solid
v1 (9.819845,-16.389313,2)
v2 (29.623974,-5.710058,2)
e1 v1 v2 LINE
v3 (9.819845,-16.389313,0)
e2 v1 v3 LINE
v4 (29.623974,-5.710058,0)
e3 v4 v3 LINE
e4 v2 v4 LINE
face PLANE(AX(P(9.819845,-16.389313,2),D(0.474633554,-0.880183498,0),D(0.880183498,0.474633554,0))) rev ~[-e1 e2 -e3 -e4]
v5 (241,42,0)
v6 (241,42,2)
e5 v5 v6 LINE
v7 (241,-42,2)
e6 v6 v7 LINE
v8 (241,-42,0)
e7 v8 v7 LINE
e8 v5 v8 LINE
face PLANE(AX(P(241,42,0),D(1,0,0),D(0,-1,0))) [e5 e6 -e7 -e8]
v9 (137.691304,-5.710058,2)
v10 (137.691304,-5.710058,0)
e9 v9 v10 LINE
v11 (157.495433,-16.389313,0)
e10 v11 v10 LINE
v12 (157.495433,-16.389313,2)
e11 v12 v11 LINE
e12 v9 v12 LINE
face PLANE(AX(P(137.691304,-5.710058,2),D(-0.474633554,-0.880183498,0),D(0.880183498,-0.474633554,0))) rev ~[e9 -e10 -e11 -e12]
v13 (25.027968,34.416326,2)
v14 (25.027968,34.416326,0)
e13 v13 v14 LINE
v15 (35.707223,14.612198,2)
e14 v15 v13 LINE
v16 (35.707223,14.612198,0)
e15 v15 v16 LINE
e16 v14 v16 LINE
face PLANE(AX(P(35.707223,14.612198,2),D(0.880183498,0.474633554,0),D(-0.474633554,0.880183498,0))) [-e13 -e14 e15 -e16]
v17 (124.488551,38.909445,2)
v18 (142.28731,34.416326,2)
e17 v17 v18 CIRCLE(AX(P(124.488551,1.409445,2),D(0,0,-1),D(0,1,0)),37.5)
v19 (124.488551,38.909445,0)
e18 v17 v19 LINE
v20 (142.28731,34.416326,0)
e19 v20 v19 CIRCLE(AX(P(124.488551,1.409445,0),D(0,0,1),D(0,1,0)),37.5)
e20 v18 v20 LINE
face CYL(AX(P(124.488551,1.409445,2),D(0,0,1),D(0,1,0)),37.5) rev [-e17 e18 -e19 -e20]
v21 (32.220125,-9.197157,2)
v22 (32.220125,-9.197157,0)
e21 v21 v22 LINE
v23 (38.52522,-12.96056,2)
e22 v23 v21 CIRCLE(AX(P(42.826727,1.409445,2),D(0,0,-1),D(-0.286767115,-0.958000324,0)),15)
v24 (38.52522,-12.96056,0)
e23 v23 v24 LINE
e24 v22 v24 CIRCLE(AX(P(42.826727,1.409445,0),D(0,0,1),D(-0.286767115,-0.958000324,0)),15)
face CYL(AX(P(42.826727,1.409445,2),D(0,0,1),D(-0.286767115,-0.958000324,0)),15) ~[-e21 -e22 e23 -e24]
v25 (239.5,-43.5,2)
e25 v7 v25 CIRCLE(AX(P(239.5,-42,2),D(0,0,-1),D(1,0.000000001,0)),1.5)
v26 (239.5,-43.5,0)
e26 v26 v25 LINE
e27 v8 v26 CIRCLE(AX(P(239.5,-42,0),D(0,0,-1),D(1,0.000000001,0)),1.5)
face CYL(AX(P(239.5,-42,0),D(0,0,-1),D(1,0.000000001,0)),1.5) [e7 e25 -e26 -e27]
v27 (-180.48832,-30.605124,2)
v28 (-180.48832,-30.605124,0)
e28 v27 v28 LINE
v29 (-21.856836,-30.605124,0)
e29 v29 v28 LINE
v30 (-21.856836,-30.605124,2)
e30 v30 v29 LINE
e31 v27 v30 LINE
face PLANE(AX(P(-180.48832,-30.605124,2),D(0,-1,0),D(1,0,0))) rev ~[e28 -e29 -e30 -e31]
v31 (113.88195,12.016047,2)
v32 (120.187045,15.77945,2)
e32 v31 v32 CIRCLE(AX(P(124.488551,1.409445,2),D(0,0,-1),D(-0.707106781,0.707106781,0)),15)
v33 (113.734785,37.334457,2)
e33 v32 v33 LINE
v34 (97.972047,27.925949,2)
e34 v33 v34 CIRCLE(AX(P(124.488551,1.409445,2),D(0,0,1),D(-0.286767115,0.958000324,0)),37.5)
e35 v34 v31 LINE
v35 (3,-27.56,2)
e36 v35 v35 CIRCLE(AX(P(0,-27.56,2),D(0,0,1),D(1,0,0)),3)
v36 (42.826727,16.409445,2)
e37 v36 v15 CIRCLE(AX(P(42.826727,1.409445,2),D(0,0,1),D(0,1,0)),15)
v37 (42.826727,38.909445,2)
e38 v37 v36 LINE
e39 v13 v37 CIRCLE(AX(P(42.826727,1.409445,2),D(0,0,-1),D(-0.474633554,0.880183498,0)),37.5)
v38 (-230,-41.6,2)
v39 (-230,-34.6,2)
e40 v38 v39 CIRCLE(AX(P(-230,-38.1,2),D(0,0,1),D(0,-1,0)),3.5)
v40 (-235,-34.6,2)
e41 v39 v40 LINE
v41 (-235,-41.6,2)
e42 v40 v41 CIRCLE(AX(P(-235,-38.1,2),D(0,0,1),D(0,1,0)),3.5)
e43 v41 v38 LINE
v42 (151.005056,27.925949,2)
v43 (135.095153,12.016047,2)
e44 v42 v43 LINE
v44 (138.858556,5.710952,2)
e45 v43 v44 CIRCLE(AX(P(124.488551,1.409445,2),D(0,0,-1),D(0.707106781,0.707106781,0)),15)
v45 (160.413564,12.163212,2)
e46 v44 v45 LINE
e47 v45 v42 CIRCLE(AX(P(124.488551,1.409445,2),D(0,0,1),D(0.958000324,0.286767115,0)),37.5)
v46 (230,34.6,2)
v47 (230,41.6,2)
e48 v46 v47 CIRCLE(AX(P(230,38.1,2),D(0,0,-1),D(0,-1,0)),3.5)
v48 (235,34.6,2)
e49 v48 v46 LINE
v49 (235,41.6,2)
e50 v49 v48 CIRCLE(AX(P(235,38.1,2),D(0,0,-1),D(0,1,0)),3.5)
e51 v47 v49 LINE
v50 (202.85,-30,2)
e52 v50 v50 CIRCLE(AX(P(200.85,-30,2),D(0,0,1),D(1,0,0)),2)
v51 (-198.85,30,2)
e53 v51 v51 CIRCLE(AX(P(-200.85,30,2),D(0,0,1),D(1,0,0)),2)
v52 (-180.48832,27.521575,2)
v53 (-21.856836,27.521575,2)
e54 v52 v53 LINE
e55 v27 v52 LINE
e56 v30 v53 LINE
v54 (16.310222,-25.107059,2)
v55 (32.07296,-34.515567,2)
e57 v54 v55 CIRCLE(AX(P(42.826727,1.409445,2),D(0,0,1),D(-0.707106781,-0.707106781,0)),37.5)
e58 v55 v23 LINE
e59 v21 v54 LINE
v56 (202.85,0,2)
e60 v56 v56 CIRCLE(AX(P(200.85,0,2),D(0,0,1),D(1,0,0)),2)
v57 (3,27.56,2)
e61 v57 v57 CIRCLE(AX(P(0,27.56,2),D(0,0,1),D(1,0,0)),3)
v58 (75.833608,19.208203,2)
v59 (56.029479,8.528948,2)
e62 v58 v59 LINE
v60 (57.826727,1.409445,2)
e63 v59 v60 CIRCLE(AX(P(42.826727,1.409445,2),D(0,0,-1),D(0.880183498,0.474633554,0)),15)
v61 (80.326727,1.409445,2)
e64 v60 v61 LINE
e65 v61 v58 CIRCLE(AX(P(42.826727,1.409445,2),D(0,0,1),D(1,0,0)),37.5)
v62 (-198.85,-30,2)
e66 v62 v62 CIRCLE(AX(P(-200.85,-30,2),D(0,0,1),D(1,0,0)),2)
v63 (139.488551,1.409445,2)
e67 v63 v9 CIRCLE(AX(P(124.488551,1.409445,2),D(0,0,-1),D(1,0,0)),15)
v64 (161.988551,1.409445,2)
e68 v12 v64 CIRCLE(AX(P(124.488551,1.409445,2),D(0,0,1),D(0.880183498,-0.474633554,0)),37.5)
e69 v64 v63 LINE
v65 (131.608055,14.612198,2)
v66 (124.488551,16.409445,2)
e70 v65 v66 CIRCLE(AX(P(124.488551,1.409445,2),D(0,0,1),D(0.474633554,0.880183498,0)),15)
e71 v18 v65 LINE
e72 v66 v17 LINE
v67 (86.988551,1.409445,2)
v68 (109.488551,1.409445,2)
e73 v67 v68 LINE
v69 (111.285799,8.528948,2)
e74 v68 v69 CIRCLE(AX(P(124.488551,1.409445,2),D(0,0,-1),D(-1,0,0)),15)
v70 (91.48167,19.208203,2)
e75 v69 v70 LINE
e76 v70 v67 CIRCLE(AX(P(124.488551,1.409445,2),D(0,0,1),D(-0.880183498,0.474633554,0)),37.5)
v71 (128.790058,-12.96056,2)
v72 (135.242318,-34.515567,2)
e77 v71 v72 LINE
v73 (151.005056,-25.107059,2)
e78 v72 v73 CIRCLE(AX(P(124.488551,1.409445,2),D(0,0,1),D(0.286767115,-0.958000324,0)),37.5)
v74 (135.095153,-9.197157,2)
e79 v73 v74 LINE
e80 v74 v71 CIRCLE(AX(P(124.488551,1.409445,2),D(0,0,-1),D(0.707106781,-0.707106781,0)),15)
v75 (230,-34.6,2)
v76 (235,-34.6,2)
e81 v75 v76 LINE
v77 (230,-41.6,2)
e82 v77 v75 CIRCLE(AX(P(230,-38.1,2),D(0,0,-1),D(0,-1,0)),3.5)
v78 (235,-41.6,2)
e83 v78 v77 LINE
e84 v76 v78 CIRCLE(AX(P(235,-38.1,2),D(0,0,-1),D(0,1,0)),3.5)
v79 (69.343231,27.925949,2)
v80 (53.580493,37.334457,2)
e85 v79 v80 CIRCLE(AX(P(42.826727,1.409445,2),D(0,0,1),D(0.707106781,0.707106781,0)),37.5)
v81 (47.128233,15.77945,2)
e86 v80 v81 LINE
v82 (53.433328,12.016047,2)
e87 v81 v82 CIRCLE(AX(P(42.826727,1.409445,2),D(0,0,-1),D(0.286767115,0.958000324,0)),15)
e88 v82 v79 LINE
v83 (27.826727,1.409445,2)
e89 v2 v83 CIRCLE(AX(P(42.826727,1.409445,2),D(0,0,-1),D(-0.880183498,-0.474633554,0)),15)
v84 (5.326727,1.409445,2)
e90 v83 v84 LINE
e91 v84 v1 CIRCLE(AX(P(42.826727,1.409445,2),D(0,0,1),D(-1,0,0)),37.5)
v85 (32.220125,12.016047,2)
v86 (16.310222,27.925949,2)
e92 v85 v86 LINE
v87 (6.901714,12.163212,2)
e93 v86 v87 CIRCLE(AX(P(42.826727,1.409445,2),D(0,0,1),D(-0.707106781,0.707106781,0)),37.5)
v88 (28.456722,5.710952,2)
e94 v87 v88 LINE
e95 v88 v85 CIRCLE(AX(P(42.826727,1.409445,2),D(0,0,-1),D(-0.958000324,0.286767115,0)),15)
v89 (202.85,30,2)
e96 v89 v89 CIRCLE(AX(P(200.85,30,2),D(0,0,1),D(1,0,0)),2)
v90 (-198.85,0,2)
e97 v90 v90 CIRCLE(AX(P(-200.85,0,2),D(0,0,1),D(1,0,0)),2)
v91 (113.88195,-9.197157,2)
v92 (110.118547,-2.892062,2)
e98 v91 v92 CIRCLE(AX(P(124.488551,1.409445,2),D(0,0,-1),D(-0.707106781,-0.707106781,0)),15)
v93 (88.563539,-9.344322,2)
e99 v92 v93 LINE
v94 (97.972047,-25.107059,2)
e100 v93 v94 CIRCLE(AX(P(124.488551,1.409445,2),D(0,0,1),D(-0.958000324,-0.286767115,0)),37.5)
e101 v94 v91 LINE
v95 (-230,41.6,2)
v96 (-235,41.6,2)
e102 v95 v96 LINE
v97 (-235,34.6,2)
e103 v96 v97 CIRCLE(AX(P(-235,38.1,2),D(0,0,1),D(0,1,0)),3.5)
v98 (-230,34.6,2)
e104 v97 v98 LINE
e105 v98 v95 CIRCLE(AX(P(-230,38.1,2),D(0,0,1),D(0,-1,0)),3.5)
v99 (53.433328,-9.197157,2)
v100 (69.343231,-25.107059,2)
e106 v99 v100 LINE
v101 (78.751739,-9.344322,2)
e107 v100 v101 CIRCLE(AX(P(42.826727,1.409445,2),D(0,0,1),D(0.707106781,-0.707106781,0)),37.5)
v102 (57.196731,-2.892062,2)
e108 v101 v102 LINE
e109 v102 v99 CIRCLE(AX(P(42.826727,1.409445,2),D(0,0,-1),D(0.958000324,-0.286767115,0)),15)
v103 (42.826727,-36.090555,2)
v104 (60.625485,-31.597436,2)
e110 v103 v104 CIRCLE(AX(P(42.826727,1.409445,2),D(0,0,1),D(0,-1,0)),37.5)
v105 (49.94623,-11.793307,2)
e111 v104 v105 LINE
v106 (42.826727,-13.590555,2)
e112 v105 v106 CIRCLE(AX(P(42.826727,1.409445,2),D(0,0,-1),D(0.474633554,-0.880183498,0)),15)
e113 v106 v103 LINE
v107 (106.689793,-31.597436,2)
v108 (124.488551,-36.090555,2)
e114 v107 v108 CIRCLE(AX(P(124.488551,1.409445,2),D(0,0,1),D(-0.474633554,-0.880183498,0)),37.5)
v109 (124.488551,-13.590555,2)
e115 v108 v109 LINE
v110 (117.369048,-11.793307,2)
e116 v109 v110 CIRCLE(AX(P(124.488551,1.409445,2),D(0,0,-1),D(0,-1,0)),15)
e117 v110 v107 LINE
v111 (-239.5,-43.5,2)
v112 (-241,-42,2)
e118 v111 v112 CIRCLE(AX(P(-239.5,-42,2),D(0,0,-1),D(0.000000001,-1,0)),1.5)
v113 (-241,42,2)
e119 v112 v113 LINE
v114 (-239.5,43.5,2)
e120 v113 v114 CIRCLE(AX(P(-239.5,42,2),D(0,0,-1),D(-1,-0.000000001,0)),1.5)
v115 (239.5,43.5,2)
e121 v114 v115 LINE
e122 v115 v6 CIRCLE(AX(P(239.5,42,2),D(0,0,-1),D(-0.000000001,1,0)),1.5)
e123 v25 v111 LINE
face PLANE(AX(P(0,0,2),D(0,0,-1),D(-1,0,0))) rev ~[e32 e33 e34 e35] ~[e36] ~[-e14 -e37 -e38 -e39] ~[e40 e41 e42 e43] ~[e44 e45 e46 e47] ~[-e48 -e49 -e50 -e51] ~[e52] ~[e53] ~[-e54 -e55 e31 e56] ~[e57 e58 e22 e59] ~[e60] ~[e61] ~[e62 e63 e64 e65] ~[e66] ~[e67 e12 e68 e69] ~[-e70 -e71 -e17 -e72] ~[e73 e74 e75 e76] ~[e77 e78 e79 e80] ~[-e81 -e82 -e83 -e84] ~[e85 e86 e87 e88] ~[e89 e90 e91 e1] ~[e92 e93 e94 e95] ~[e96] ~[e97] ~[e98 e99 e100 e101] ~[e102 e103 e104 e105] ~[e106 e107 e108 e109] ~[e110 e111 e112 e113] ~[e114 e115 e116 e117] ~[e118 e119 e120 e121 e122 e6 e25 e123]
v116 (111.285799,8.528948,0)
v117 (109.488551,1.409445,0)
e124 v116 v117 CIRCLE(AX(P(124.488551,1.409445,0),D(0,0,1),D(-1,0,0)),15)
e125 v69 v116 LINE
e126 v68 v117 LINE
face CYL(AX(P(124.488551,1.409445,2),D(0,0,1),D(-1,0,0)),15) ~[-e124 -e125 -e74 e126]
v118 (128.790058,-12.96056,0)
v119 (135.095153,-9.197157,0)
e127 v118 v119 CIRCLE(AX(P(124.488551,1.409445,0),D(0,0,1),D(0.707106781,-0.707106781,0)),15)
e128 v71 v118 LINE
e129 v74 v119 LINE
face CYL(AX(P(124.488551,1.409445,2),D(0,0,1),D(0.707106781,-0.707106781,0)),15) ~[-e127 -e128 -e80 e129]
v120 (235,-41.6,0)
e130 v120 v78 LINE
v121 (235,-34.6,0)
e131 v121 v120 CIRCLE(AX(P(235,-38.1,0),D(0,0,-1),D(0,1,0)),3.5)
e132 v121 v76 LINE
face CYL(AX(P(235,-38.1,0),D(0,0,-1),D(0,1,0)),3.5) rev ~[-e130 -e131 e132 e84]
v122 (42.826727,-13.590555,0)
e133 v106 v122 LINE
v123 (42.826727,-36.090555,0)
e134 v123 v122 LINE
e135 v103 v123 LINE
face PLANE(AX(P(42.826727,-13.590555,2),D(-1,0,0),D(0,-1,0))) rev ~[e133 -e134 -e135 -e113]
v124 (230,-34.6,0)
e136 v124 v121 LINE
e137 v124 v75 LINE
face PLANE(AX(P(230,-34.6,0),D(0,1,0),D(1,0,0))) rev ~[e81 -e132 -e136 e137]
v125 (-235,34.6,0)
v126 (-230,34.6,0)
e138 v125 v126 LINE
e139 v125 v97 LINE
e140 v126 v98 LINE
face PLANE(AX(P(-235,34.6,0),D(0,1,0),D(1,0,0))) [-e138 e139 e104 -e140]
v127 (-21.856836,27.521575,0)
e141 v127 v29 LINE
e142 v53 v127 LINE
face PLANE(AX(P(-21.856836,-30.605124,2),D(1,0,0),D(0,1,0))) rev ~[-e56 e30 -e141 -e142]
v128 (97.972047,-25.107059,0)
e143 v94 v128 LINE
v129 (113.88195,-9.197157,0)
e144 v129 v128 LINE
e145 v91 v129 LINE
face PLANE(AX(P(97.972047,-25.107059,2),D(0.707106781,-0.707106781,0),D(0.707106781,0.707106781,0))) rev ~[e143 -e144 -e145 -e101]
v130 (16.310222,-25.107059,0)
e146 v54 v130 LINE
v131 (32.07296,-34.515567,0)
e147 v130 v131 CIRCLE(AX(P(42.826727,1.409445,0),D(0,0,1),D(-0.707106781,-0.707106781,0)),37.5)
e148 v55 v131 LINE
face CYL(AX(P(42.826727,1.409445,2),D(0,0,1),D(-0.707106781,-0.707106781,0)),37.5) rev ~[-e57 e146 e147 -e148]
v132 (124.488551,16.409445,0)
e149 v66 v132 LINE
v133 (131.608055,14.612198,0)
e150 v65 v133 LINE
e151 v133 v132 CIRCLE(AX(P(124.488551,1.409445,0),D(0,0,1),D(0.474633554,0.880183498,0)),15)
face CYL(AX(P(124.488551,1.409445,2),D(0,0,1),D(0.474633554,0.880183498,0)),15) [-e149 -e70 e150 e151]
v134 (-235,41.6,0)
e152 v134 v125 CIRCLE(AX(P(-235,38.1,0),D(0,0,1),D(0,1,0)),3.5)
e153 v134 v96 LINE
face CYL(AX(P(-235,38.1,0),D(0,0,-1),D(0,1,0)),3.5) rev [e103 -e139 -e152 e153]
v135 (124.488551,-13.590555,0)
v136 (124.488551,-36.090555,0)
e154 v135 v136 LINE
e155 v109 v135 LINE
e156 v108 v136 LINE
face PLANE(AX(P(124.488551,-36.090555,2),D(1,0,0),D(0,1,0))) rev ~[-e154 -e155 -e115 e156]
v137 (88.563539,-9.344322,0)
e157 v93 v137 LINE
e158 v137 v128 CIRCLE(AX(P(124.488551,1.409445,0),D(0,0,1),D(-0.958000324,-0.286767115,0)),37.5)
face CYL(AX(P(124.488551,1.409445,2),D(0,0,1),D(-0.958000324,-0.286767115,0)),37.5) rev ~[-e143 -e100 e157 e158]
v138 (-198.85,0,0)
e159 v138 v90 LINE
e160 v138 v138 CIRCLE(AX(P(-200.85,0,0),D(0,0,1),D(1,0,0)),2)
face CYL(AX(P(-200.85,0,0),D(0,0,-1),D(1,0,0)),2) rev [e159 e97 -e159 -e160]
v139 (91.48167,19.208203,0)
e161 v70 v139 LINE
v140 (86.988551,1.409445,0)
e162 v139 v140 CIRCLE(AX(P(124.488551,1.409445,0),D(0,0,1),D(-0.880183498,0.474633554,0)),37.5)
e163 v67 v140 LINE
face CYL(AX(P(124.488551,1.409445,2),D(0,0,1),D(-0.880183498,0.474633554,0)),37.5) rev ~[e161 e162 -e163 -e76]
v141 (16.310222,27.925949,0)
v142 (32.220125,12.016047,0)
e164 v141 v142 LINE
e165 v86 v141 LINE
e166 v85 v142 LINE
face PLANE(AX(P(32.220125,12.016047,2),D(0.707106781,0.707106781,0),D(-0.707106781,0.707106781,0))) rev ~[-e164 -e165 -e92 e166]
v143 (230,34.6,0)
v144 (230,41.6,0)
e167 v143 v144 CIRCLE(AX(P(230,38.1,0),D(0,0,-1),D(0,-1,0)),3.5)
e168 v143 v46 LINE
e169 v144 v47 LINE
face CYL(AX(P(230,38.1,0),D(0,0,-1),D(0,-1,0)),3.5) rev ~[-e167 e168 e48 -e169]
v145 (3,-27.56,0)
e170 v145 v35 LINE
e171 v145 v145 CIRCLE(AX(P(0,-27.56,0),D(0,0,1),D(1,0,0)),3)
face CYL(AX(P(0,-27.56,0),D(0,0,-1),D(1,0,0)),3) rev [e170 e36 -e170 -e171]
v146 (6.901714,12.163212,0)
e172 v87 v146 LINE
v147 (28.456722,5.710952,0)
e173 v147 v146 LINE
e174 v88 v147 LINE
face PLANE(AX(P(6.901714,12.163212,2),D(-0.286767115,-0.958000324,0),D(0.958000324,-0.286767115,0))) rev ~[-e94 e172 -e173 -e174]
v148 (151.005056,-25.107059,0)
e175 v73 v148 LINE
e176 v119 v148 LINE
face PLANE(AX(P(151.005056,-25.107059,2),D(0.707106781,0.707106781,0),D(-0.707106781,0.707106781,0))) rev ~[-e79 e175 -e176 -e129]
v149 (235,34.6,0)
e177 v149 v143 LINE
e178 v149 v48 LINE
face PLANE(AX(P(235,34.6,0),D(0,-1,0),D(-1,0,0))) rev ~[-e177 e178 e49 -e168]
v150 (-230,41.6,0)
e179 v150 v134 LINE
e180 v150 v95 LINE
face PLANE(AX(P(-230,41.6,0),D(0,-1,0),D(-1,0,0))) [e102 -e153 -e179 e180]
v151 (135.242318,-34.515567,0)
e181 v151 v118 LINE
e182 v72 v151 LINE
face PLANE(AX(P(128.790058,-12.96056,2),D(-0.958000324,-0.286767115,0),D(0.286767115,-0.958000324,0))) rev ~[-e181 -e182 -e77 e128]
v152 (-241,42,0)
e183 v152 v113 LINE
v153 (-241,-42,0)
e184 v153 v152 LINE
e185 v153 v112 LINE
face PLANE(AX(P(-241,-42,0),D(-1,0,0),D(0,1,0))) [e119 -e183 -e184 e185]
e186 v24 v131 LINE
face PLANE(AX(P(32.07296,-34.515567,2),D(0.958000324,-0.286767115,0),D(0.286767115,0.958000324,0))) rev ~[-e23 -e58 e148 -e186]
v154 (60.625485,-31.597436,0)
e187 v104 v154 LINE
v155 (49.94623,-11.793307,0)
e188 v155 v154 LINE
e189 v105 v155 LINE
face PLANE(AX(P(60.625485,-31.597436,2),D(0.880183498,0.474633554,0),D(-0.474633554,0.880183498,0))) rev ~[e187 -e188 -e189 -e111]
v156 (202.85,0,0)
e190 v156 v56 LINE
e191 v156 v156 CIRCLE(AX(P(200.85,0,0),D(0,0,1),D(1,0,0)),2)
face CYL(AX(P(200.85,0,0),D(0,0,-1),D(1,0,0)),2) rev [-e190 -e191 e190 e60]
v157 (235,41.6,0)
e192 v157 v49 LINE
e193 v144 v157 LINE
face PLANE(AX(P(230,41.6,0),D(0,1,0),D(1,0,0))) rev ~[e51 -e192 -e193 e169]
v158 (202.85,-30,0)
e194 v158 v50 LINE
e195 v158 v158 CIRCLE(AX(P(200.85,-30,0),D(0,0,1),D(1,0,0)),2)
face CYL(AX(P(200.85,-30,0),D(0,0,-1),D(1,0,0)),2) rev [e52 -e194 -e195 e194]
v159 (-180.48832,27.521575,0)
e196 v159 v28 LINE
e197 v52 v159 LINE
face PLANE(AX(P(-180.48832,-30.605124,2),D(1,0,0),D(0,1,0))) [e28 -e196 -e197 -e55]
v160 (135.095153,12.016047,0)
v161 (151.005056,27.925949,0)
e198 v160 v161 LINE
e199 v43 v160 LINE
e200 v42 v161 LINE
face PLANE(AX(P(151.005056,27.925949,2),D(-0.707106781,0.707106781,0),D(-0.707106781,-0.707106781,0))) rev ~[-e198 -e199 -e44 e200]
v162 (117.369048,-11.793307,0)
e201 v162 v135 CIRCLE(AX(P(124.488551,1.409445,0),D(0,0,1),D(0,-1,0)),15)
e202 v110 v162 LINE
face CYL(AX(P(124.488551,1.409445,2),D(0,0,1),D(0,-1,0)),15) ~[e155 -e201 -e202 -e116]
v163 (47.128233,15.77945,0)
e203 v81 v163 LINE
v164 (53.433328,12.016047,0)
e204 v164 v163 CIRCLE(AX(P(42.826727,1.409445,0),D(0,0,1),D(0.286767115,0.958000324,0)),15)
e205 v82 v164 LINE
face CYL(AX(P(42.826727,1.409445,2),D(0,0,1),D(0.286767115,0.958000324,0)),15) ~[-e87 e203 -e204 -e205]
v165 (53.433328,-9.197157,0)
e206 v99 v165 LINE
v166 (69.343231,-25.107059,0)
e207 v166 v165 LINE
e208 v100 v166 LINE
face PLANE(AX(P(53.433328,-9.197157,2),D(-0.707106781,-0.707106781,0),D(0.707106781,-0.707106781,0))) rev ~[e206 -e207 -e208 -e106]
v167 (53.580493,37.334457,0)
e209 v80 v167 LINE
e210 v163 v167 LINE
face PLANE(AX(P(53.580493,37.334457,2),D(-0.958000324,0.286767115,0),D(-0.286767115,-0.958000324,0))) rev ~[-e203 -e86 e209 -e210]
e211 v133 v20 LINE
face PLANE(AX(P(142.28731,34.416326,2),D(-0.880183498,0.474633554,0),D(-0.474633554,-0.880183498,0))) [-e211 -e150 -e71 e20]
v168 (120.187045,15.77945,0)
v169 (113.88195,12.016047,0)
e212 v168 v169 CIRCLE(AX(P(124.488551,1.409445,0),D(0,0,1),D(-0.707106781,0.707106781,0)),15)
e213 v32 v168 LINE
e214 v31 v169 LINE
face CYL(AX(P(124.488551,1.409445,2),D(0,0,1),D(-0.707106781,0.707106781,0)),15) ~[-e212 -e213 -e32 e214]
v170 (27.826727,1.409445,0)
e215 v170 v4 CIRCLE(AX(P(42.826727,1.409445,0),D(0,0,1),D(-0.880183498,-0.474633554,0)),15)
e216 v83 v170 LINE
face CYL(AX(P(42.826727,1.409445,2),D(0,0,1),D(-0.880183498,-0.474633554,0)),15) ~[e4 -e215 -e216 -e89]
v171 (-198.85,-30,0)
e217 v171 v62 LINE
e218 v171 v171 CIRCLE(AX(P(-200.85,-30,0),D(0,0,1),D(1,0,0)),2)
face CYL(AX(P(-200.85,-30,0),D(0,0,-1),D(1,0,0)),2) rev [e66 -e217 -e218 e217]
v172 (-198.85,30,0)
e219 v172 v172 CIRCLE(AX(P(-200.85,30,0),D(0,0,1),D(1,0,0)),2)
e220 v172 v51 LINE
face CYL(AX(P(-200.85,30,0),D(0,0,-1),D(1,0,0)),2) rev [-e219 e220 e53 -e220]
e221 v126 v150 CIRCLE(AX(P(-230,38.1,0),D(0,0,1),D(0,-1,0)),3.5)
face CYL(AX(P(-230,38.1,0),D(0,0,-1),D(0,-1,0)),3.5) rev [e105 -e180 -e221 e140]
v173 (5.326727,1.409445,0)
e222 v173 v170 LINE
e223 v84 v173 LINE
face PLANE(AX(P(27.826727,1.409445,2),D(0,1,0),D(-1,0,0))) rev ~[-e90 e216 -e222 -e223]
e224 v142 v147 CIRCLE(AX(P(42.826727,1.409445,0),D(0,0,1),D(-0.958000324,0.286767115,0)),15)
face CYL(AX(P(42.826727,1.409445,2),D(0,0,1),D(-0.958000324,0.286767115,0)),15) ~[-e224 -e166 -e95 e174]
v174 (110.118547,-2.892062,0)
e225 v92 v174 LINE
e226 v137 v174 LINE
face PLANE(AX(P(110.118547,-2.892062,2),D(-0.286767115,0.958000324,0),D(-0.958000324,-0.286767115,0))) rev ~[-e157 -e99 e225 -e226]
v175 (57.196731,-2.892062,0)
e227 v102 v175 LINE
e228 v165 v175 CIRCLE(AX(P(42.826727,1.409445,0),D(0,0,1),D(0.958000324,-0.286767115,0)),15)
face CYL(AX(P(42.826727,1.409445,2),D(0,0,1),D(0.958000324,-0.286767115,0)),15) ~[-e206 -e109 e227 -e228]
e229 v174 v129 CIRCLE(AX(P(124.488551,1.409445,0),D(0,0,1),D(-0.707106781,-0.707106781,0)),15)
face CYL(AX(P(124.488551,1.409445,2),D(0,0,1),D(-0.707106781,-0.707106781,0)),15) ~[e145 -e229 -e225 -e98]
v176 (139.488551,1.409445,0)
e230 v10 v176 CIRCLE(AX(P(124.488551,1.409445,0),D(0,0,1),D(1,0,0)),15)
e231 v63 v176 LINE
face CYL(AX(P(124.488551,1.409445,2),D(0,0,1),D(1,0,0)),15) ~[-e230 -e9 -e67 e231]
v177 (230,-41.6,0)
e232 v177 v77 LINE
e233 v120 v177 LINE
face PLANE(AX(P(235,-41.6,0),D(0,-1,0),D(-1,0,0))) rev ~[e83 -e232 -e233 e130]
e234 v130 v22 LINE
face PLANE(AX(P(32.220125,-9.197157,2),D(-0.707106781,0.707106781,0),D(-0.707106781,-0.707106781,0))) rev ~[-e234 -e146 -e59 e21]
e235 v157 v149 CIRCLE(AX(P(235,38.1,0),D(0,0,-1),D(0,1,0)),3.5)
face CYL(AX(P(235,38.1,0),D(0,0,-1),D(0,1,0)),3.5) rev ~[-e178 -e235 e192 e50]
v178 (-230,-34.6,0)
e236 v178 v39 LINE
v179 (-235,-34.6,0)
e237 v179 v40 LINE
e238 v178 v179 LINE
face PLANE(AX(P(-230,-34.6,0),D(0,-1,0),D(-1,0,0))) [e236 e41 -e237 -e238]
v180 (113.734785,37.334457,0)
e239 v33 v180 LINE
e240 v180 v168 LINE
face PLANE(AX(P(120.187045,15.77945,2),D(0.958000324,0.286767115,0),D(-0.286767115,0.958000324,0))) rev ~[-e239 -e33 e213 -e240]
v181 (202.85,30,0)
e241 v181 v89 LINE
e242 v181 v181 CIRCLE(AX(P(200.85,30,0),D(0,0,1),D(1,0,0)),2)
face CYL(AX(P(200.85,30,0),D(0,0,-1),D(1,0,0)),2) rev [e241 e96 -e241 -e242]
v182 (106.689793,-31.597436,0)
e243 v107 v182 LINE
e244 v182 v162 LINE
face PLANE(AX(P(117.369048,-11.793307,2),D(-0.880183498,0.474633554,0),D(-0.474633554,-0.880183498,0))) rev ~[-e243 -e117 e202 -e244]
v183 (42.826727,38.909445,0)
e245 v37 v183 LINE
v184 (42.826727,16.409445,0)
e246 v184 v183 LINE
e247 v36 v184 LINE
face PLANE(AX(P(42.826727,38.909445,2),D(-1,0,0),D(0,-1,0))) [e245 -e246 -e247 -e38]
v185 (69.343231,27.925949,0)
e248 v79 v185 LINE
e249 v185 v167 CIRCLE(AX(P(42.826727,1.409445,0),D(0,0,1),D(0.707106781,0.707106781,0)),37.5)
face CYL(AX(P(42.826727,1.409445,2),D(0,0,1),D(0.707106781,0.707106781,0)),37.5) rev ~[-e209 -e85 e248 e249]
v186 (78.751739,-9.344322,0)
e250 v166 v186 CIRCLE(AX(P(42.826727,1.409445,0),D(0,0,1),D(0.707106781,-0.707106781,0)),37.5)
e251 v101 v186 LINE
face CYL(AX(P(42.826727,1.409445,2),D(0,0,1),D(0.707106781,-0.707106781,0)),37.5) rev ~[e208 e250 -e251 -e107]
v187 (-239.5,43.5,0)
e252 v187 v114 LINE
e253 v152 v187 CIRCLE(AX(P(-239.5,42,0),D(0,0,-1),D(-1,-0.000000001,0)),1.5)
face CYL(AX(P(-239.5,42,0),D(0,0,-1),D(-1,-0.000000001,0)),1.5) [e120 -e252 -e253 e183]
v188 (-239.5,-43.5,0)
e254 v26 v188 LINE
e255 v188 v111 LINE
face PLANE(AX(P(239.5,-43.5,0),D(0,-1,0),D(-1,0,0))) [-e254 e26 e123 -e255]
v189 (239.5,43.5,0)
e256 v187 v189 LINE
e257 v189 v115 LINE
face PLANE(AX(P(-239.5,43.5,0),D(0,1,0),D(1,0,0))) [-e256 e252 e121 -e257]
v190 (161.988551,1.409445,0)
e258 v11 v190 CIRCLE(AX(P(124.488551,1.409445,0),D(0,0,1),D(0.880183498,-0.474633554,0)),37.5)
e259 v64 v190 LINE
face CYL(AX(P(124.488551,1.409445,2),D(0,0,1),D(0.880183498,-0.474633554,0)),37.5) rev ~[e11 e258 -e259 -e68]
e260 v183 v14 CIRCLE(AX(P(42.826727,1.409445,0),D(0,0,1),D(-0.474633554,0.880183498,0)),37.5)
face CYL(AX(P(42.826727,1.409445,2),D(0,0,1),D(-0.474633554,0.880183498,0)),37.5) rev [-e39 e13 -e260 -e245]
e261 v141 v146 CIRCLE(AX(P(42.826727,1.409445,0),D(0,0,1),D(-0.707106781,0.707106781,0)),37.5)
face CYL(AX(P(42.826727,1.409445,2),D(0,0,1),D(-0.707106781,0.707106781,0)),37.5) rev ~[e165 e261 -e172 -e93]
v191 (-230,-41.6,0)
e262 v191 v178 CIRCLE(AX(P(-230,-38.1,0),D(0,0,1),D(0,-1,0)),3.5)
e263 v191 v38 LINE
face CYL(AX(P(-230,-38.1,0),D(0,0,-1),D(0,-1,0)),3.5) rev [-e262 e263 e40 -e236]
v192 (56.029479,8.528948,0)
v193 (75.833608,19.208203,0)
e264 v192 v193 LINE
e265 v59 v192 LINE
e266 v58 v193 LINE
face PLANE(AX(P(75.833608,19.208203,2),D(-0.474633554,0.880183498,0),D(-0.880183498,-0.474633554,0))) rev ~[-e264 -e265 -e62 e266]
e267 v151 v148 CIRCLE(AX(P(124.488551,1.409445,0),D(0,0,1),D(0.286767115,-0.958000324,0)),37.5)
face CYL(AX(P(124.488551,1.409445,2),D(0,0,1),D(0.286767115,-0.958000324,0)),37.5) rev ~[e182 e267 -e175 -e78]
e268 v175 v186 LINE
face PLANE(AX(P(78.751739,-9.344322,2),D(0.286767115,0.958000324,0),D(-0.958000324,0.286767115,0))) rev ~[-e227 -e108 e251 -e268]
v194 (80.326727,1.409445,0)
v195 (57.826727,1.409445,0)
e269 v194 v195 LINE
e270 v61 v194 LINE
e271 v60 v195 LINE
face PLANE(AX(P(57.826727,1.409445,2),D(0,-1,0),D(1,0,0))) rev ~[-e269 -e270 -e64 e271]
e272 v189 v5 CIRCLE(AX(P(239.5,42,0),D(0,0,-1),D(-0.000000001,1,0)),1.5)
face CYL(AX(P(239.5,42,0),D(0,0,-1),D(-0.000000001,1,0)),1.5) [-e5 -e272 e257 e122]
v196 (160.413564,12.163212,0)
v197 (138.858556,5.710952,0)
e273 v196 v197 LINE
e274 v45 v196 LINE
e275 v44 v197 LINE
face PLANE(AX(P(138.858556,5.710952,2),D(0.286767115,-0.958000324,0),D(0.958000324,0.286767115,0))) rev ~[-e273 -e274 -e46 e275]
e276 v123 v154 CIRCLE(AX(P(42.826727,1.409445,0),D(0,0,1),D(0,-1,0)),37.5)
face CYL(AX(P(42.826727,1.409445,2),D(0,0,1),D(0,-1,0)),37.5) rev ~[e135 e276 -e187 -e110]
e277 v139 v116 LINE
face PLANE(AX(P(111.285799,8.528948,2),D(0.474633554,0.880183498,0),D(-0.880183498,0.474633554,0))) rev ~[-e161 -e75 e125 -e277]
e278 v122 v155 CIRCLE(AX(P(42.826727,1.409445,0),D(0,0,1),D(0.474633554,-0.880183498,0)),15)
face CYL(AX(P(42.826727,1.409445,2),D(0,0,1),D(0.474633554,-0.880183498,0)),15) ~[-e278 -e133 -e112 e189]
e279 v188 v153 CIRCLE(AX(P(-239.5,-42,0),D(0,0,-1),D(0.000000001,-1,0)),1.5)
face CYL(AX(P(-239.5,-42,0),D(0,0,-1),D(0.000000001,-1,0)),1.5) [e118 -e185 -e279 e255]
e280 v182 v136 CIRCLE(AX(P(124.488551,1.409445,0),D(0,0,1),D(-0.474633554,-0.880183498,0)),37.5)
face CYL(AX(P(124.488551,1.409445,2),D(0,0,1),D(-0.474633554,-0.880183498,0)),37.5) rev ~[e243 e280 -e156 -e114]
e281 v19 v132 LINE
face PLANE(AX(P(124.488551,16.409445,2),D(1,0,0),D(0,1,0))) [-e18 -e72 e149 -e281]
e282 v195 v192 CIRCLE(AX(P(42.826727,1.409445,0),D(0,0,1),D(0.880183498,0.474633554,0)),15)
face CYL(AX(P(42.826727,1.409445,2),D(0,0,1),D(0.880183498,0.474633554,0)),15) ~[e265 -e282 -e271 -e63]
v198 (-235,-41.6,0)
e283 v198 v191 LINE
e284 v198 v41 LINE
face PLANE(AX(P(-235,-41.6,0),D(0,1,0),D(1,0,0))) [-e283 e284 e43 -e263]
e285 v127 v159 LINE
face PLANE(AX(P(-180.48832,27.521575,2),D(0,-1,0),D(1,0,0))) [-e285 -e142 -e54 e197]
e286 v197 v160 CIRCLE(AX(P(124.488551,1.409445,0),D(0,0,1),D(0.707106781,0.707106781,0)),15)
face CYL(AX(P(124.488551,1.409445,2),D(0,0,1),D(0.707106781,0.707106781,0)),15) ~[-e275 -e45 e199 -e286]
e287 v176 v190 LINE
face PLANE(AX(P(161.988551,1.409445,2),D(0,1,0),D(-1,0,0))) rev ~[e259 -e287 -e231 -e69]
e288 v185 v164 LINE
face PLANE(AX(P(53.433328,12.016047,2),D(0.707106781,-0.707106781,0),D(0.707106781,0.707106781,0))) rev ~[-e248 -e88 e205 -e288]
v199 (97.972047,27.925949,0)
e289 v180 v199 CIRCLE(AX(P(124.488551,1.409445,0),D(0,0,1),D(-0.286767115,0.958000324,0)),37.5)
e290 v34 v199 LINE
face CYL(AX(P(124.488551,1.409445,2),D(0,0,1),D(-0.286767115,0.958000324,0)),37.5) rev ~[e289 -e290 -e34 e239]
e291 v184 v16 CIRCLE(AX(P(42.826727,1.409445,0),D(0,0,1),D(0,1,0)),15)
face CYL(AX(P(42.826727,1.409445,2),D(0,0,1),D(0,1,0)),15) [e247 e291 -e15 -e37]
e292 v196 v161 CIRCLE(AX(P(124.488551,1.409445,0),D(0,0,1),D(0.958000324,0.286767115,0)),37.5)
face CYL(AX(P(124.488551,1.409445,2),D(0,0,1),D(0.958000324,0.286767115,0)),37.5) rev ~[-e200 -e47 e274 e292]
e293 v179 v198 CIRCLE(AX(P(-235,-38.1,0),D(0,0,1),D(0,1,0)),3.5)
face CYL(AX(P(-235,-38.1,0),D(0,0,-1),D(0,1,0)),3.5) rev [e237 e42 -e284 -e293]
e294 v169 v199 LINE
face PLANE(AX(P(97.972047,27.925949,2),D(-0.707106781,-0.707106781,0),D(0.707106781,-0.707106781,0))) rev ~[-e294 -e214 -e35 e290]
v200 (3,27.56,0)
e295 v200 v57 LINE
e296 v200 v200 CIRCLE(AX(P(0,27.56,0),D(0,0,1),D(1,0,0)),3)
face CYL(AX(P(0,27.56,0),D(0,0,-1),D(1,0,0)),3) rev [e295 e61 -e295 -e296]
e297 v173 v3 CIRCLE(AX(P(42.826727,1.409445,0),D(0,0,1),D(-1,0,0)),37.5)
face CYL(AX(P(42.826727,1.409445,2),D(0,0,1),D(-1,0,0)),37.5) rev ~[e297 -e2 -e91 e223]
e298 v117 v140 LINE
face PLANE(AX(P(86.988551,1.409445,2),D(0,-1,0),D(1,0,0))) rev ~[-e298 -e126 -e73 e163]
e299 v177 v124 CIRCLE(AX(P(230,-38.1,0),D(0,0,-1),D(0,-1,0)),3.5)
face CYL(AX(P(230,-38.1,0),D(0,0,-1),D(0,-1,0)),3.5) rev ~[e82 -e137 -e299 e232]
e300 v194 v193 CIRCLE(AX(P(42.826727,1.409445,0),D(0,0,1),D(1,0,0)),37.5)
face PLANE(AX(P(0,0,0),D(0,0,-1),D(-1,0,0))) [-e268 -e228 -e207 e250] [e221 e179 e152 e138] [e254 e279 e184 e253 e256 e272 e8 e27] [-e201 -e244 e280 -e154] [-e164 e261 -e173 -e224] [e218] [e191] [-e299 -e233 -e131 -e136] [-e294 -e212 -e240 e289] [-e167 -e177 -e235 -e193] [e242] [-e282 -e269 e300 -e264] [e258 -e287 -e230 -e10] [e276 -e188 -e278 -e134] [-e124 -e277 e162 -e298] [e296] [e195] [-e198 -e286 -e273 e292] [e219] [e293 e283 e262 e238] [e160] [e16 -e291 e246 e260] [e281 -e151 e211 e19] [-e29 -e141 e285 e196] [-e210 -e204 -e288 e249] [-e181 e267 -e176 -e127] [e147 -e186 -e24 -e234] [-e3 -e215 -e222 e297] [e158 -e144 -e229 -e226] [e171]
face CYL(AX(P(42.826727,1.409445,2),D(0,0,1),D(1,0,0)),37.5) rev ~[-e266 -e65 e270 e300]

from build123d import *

# Parameters (mm, degrees)
SKETCH1_R           = 2
SKETCH1_R_2         = 3
BOSS_EXTRUDE1_DEPTH = 2
CUT_EXTRUDE1_DEPTH  = 3
SKETCH3_W           = 158.631483428
SKETCH3_H           = 58.126698801
CUT_EXTRUDE2_DEPTH  = 3


with BuildPart() as part:
    # Sketch1 → Boss-Extrude1 (new body)
    with BuildSketch(Plane.XY):
        with BuildLine():
            Line((236, -43.5), (-236, -43.5))
            Line((-236, -43.5), (-239.5, -43.5))
            ThreePointArc((-239.5, -43.5), (-240.560660172, -43.060660172), (-241, -42))
            Line((-241, -42), (-241, -38.5))
            Line((-241, -38.5), (-241, 38.5))
            Line((-241, 38.5), (-241, 42))
            ThreePointArc((-241, 42), (-240.560660172, 43.060660172), (-239.5, 43.5))
            Line((-239.5, 43.5), (-236, 43.5))
            Line((-236, 43.5), (236, 43.5))
            Line((236, 43.5), (239.5, 43.5))
            ThreePointArc((239.5, 43.5), (240.560660172, 43.060660172), (241, 42))
            Line((241, 42), (241, 38.5))
            Line((241, 38.5), (241, -38.5))
            Line((241, -38.5), (241, -42))
            ThreePointArc((241, -42), (240.560660172, -43.060660172), (239.5, -43.5))
            Line((239.5, -43.5), (236, -43.5))
        make_face()
        with Locations((-200.85, 30)):
            Circle(SKETCH1_R, mode=Mode.SUBTRACT)
        with Locations((-200.85, 0)):
            Circle(SKETCH1_R, mode=Mode.SUBTRACT)
        with Locations((-200.85, -30)):
            Circle(SKETCH1_R, mode=Mode.SUBTRACT)
        with Locations((200.85, 30)):
            Circle(SKETCH1_R, mode=Mode.SUBTRACT)
        with Locations((200.85, 0)):
            Circle(SKETCH1_R, mode=Mode.SUBTRACT)
        with Locations((200.85, -30)):
            Circle(SKETCH1_R, mode=Mode.SUBTRACT)
        with Locations((0, -27.56)):
            Circle(SKETCH1_R_2, mode=Mode.SUBTRACT)
        with Locations((0, 27.56)):
            Circle(SKETCH1_R_2, mode=Mode.SUBTRACT)
        with BuildLine():
            Line((-235, 34.6), (-230, 34.6))
            ThreePointArc((-230, 34.6), (-226.5, 38.1), (-230, 41.6))
            Line((-230, 41.6), (-235, 41.6))
            ThreePointArc((-235, 41.6), (-238.5, 38.1), (-235, 34.6))
        make_face(mode=Mode.SUBTRACT)
        with BuildLine():
            Line((-235, -41.6), (-230, -41.6))
            ThreePointArc((-230, -41.6), (-226.5, -38.1), (-230, -34.6))
            Line((-230, -34.6), (-235, -34.6))
            ThreePointArc((-235, -34.6), (-238.5, -38.1), (-235, -41.6))
        make_face(mode=Mode.SUBTRACT)
        with BuildLine():
            Line((235, -41.6), (230, -41.6))
            ThreePointArc((230, -41.6), (226.5, -38.1), (230, -34.6))
            Line((230, -34.6), (235, -34.6))
            ThreePointArc((235, -34.6), (238.5, -38.1), (235, -41.6))
        make_face(mode=Mode.SUBTRACT)
        with BuildLine():
            Line((230, 41.6), (235, 41.6))
            ThreePointArc((235, 41.6), (238.5, 38.1), (235, 34.6))
            Line((235, 34.6), (230, 34.6))
            ThreePointArc((230, 34.6), (226.5, 38.1), (230, 41.6))
        make_face(mode=Mode.SUBTRACT)
    extrude(amount=BOSS_EXTRUDE1_DEPTH)

    # Sketch2 → Cut-Extrude1 (cut)
    with BuildSketch(Plane.XY.offset(2)):
        with BuildLine():
            Line((124.488551372, 16.409445117), (124.488551372, 38.909445117))
            ThreePointArc((124.488551372, 38.909445117), (133.667112168, 37.768818347), (142.28730965, 34.416326275))
            Line((142.28730965, 34.416326275), (131.608054683, 14.61219758))
            ThreePointArc((131.608054683, 14.61219758), (128.159975691, 15.953194409), (124.488551372, 16.409445117))
        make_face()
        with BuildLine():
            Line((138.858556239, 5.710951844), (160.41356354, 12.163211934))
            ThreePointArc((160.41356354, 12.163211934), (156.688733324, 20.629181907), (151.005055666, 27.925949412))
            Line((151.005055666, 27.925949412), (135.09515309, 12.016046835))
            ThreePointArc((135.09515309, 12.016046835), (137.368624153, 9.097339833), (138.858556239, 5.710951844))
        make_face()
        with BuildLine():
            Line((137.691303835, -5.710058194), (157.49543253, -16.389313161))
            ThreePointArc((157.49543253, -16.389313161), (160.847924602, -7.769115679), (161.988551372, 1.409445117))
            Line((161.988551372, 1.409445117), (139.488551372, 1.409445117))
            ThreePointArc((139.488551372, 1.409445117), (139.032300664, -2.261979201), (137.691303835, -5.710058194))
        make_face()
        with BuildLine():
            Line((128.790058099, -12.96055975), (135.242318189, -34.51556705))
            ThreePointArc((135.242318189, -34.51556705), (143.708288162, -30.790736834), (151.005055666, -25.107059177))
            Line((151.005055666, -25.107059177), (135.09515309, -9.197156601))
            ThreePointArc((135.09515309, -9.197156601), (132.176446088, -11.470627664), (128.790058099, -12.96055975))
        make_face()
        with BuildLine():
            Line((117.369048061, -11.793307346), (106.689793094, -31.59743604))
            ThreePointArc((106.689793094, -31.59743604), (115.309990575, -34.949928113), (124.488551372, -36.090554883))
            Line((124.488551372, -36.090554883), (124.488551372, -13.590554883))
            ThreePointArc((124.488551372, -13.590554883), (120.817127053, -13.134304175), (117.369048061, -11.793307346))
        make_face()
        with BuildLine():
            Line((110.118546505, -2.89206161), (88.563539204, -9.3443217))
            ThreePointArc((88.563539204, -9.3443217), (92.28836942, -17.810291673), (97.972047077, -25.107059177))
            Line((97.972047077, -25.107059177), (113.881949654, -9.197156601))
            ThreePointArc((113.881949654, -9.197156601), (111.608478591, -6.278449599), (110.118546505, -2.89206161))
        make_face()
        with BuildLine():
            Line((111.285798909, 8.528948428), (91.481670214, 19.208203395))
            ThreePointArc((91.481670214, 19.208203395), (88.129178142, 10.588005914), (86.988551372, 1.409445117))
            Line((86.988551372, 1.409445117), (109.488551372, 1.409445117))
            ThreePointArc((109.488551372, 1.409445117), (109.94480208, 5.080869436), (111.285798909, 8.528948428))
        make_face()
        with BuildLine():
            Line((120.187044645, 15.779449984), (113.734784555, 37.334457285))
            ThreePointArc((113.734784555, 37.334457285), (105.268814582, 33.609627069), (97.972047077, 27.925949412))
            Line((97.972047077, 27.925949412), (113.881949654, 12.016046835))
            ThreePointArc((113.881949654, 12.016046835), (116.800656656, 14.289517898), (120.187044645, 15.779449984))
        make_face()
        with BuildLine():
            Line((53.433328256, 12.016046835), (69.343230833, 27.925949412))
            ThreePointArc((69.343230833, 27.925949412), (62.046463328, 33.609627069), (53.580493355, 37.334457285))
            Line((53.580493355, 37.334457285), (47.128233265, 15.779449984))
            ThreePointArc((47.128233265, 15.779449984), (50.514621254, 14.289517898), (53.433328256, 12.016046835))
        make_face()
        with BuildLine():
            Line((57.826726538, 1.409445117), (80.326726538, 1.409445117))
            ThreePointArc((80.326726538, 1.409445117), (79.186099769, 10.588005914), (75.833607696, 19.208203395))
            Line((75.833607696, 19.208203395), (56.029479001, 8.528948428))
            ThreePointArc((56.029479001, 8.528948428), (57.37047583, 5.080869436), (57.826726538, 1.409445117))
        make_face()
        with BuildLine():
            Line((53.433328256, -9.197156601), (69.343230833, -25.107059177))
            ThreePointArc((69.343230833, -25.107059177), (75.02690849, -17.810291673), (78.751738706, -9.3443217))
            Line((78.751738706, -9.3443217), (57.196731405, -2.89206161))
            ThreePointArc((57.196731405, -2.89206161), (55.706799319, -6.278449599), (53.433328256, -9.197156601))
        make_face()
        with BuildLine():
            Line((42.826726538, -13.590554883), (42.826726538, -36.090554883))
            ThreePointArc((42.826726538, -36.090554883), (52.005287335, -34.949928113), (60.625484817, -31.59743604))
            Line((60.625484817, -31.59743604), (49.94622985, -11.793307346))
            ThreePointArc((49.94622985, -11.793307346), (46.498150857, -13.134304175), (42.826726538, -13.590554883))
        make_face()
        with BuildLine():
            Line((32.22012482, -9.197156601), (16.310222244, -25.107059177))
            ThreePointArc((16.310222244, -25.107059177), (23.606989748, -30.790736834), (32.072959721, -34.51556705))
            Line((32.072959721, -34.51556705), (38.525219811, -12.96055975))
            ThreePointArc((38.525219811, -12.96055975), (35.138831822, -11.470627664), (32.22012482, -9.197156601))
        make_face()
        with BuildLine():
            Line((27.826726538, 1.409445117), (5.326726538, 1.409445117))
            ThreePointArc((5.326726538, 1.409445117), (6.467353308, -7.769115679), (9.819845381, -16.389313161))
            Line((9.819845381, -16.389313161), (29.623974075, -5.710058194))
            ThreePointArc((29.623974075, -5.710058194), (28.282977246, -2.261979201), (27.826726538, 1.409445117))
        make_face()
        with BuildLine():
            Line((32.22012482, 12.016046835), (16.310222244, 27.925949412))
            ThreePointArc((16.310222244, 27.925949412), (10.626544587, 20.629181907), (6.901714371, 12.163211934))
            Line((6.901714371, 12.163211934), (28.456721671, 5.710951844))
            ThreePointArc((28.456721671, 5.710951844), (29.946653758, 9.097339833), (32.22012482, 12.016046835))
        make_face()
        with BuildLine():
            Line((35.707223227, 14.61219758), (25.02796826, 34.416326275))
            ThreePointArc((25.02796826, 34.416326275), (33.648165742, 37.768818347), (42.826726538, 38.909445117))
            Line((42.826726538, 38.909445117), (42.826726538, 16.409445117))
            ThreePointArc((42.826726538, 16.409445117), (39.15530222, 15.953194409), (35.707223227, 14.61219758))
        make_face()
    extrude(amount=-CUT_EXTRUDE1_DEPTH, mode=Mode.SUBTRACT)

    # Sketch3 → Cut-Extrude2 (cut)
    with BuildSketch(Plane.XY.offset(2)):
        with Locations((-101.172577856, -1.541774354)):
            Rectangle(SKETCH3_W, SKETCH3_H)
    extrude(amount=-CUT_EXTRUDE2_DEPTH, mode=Mode.SUBTRACT)


solid = part.part
